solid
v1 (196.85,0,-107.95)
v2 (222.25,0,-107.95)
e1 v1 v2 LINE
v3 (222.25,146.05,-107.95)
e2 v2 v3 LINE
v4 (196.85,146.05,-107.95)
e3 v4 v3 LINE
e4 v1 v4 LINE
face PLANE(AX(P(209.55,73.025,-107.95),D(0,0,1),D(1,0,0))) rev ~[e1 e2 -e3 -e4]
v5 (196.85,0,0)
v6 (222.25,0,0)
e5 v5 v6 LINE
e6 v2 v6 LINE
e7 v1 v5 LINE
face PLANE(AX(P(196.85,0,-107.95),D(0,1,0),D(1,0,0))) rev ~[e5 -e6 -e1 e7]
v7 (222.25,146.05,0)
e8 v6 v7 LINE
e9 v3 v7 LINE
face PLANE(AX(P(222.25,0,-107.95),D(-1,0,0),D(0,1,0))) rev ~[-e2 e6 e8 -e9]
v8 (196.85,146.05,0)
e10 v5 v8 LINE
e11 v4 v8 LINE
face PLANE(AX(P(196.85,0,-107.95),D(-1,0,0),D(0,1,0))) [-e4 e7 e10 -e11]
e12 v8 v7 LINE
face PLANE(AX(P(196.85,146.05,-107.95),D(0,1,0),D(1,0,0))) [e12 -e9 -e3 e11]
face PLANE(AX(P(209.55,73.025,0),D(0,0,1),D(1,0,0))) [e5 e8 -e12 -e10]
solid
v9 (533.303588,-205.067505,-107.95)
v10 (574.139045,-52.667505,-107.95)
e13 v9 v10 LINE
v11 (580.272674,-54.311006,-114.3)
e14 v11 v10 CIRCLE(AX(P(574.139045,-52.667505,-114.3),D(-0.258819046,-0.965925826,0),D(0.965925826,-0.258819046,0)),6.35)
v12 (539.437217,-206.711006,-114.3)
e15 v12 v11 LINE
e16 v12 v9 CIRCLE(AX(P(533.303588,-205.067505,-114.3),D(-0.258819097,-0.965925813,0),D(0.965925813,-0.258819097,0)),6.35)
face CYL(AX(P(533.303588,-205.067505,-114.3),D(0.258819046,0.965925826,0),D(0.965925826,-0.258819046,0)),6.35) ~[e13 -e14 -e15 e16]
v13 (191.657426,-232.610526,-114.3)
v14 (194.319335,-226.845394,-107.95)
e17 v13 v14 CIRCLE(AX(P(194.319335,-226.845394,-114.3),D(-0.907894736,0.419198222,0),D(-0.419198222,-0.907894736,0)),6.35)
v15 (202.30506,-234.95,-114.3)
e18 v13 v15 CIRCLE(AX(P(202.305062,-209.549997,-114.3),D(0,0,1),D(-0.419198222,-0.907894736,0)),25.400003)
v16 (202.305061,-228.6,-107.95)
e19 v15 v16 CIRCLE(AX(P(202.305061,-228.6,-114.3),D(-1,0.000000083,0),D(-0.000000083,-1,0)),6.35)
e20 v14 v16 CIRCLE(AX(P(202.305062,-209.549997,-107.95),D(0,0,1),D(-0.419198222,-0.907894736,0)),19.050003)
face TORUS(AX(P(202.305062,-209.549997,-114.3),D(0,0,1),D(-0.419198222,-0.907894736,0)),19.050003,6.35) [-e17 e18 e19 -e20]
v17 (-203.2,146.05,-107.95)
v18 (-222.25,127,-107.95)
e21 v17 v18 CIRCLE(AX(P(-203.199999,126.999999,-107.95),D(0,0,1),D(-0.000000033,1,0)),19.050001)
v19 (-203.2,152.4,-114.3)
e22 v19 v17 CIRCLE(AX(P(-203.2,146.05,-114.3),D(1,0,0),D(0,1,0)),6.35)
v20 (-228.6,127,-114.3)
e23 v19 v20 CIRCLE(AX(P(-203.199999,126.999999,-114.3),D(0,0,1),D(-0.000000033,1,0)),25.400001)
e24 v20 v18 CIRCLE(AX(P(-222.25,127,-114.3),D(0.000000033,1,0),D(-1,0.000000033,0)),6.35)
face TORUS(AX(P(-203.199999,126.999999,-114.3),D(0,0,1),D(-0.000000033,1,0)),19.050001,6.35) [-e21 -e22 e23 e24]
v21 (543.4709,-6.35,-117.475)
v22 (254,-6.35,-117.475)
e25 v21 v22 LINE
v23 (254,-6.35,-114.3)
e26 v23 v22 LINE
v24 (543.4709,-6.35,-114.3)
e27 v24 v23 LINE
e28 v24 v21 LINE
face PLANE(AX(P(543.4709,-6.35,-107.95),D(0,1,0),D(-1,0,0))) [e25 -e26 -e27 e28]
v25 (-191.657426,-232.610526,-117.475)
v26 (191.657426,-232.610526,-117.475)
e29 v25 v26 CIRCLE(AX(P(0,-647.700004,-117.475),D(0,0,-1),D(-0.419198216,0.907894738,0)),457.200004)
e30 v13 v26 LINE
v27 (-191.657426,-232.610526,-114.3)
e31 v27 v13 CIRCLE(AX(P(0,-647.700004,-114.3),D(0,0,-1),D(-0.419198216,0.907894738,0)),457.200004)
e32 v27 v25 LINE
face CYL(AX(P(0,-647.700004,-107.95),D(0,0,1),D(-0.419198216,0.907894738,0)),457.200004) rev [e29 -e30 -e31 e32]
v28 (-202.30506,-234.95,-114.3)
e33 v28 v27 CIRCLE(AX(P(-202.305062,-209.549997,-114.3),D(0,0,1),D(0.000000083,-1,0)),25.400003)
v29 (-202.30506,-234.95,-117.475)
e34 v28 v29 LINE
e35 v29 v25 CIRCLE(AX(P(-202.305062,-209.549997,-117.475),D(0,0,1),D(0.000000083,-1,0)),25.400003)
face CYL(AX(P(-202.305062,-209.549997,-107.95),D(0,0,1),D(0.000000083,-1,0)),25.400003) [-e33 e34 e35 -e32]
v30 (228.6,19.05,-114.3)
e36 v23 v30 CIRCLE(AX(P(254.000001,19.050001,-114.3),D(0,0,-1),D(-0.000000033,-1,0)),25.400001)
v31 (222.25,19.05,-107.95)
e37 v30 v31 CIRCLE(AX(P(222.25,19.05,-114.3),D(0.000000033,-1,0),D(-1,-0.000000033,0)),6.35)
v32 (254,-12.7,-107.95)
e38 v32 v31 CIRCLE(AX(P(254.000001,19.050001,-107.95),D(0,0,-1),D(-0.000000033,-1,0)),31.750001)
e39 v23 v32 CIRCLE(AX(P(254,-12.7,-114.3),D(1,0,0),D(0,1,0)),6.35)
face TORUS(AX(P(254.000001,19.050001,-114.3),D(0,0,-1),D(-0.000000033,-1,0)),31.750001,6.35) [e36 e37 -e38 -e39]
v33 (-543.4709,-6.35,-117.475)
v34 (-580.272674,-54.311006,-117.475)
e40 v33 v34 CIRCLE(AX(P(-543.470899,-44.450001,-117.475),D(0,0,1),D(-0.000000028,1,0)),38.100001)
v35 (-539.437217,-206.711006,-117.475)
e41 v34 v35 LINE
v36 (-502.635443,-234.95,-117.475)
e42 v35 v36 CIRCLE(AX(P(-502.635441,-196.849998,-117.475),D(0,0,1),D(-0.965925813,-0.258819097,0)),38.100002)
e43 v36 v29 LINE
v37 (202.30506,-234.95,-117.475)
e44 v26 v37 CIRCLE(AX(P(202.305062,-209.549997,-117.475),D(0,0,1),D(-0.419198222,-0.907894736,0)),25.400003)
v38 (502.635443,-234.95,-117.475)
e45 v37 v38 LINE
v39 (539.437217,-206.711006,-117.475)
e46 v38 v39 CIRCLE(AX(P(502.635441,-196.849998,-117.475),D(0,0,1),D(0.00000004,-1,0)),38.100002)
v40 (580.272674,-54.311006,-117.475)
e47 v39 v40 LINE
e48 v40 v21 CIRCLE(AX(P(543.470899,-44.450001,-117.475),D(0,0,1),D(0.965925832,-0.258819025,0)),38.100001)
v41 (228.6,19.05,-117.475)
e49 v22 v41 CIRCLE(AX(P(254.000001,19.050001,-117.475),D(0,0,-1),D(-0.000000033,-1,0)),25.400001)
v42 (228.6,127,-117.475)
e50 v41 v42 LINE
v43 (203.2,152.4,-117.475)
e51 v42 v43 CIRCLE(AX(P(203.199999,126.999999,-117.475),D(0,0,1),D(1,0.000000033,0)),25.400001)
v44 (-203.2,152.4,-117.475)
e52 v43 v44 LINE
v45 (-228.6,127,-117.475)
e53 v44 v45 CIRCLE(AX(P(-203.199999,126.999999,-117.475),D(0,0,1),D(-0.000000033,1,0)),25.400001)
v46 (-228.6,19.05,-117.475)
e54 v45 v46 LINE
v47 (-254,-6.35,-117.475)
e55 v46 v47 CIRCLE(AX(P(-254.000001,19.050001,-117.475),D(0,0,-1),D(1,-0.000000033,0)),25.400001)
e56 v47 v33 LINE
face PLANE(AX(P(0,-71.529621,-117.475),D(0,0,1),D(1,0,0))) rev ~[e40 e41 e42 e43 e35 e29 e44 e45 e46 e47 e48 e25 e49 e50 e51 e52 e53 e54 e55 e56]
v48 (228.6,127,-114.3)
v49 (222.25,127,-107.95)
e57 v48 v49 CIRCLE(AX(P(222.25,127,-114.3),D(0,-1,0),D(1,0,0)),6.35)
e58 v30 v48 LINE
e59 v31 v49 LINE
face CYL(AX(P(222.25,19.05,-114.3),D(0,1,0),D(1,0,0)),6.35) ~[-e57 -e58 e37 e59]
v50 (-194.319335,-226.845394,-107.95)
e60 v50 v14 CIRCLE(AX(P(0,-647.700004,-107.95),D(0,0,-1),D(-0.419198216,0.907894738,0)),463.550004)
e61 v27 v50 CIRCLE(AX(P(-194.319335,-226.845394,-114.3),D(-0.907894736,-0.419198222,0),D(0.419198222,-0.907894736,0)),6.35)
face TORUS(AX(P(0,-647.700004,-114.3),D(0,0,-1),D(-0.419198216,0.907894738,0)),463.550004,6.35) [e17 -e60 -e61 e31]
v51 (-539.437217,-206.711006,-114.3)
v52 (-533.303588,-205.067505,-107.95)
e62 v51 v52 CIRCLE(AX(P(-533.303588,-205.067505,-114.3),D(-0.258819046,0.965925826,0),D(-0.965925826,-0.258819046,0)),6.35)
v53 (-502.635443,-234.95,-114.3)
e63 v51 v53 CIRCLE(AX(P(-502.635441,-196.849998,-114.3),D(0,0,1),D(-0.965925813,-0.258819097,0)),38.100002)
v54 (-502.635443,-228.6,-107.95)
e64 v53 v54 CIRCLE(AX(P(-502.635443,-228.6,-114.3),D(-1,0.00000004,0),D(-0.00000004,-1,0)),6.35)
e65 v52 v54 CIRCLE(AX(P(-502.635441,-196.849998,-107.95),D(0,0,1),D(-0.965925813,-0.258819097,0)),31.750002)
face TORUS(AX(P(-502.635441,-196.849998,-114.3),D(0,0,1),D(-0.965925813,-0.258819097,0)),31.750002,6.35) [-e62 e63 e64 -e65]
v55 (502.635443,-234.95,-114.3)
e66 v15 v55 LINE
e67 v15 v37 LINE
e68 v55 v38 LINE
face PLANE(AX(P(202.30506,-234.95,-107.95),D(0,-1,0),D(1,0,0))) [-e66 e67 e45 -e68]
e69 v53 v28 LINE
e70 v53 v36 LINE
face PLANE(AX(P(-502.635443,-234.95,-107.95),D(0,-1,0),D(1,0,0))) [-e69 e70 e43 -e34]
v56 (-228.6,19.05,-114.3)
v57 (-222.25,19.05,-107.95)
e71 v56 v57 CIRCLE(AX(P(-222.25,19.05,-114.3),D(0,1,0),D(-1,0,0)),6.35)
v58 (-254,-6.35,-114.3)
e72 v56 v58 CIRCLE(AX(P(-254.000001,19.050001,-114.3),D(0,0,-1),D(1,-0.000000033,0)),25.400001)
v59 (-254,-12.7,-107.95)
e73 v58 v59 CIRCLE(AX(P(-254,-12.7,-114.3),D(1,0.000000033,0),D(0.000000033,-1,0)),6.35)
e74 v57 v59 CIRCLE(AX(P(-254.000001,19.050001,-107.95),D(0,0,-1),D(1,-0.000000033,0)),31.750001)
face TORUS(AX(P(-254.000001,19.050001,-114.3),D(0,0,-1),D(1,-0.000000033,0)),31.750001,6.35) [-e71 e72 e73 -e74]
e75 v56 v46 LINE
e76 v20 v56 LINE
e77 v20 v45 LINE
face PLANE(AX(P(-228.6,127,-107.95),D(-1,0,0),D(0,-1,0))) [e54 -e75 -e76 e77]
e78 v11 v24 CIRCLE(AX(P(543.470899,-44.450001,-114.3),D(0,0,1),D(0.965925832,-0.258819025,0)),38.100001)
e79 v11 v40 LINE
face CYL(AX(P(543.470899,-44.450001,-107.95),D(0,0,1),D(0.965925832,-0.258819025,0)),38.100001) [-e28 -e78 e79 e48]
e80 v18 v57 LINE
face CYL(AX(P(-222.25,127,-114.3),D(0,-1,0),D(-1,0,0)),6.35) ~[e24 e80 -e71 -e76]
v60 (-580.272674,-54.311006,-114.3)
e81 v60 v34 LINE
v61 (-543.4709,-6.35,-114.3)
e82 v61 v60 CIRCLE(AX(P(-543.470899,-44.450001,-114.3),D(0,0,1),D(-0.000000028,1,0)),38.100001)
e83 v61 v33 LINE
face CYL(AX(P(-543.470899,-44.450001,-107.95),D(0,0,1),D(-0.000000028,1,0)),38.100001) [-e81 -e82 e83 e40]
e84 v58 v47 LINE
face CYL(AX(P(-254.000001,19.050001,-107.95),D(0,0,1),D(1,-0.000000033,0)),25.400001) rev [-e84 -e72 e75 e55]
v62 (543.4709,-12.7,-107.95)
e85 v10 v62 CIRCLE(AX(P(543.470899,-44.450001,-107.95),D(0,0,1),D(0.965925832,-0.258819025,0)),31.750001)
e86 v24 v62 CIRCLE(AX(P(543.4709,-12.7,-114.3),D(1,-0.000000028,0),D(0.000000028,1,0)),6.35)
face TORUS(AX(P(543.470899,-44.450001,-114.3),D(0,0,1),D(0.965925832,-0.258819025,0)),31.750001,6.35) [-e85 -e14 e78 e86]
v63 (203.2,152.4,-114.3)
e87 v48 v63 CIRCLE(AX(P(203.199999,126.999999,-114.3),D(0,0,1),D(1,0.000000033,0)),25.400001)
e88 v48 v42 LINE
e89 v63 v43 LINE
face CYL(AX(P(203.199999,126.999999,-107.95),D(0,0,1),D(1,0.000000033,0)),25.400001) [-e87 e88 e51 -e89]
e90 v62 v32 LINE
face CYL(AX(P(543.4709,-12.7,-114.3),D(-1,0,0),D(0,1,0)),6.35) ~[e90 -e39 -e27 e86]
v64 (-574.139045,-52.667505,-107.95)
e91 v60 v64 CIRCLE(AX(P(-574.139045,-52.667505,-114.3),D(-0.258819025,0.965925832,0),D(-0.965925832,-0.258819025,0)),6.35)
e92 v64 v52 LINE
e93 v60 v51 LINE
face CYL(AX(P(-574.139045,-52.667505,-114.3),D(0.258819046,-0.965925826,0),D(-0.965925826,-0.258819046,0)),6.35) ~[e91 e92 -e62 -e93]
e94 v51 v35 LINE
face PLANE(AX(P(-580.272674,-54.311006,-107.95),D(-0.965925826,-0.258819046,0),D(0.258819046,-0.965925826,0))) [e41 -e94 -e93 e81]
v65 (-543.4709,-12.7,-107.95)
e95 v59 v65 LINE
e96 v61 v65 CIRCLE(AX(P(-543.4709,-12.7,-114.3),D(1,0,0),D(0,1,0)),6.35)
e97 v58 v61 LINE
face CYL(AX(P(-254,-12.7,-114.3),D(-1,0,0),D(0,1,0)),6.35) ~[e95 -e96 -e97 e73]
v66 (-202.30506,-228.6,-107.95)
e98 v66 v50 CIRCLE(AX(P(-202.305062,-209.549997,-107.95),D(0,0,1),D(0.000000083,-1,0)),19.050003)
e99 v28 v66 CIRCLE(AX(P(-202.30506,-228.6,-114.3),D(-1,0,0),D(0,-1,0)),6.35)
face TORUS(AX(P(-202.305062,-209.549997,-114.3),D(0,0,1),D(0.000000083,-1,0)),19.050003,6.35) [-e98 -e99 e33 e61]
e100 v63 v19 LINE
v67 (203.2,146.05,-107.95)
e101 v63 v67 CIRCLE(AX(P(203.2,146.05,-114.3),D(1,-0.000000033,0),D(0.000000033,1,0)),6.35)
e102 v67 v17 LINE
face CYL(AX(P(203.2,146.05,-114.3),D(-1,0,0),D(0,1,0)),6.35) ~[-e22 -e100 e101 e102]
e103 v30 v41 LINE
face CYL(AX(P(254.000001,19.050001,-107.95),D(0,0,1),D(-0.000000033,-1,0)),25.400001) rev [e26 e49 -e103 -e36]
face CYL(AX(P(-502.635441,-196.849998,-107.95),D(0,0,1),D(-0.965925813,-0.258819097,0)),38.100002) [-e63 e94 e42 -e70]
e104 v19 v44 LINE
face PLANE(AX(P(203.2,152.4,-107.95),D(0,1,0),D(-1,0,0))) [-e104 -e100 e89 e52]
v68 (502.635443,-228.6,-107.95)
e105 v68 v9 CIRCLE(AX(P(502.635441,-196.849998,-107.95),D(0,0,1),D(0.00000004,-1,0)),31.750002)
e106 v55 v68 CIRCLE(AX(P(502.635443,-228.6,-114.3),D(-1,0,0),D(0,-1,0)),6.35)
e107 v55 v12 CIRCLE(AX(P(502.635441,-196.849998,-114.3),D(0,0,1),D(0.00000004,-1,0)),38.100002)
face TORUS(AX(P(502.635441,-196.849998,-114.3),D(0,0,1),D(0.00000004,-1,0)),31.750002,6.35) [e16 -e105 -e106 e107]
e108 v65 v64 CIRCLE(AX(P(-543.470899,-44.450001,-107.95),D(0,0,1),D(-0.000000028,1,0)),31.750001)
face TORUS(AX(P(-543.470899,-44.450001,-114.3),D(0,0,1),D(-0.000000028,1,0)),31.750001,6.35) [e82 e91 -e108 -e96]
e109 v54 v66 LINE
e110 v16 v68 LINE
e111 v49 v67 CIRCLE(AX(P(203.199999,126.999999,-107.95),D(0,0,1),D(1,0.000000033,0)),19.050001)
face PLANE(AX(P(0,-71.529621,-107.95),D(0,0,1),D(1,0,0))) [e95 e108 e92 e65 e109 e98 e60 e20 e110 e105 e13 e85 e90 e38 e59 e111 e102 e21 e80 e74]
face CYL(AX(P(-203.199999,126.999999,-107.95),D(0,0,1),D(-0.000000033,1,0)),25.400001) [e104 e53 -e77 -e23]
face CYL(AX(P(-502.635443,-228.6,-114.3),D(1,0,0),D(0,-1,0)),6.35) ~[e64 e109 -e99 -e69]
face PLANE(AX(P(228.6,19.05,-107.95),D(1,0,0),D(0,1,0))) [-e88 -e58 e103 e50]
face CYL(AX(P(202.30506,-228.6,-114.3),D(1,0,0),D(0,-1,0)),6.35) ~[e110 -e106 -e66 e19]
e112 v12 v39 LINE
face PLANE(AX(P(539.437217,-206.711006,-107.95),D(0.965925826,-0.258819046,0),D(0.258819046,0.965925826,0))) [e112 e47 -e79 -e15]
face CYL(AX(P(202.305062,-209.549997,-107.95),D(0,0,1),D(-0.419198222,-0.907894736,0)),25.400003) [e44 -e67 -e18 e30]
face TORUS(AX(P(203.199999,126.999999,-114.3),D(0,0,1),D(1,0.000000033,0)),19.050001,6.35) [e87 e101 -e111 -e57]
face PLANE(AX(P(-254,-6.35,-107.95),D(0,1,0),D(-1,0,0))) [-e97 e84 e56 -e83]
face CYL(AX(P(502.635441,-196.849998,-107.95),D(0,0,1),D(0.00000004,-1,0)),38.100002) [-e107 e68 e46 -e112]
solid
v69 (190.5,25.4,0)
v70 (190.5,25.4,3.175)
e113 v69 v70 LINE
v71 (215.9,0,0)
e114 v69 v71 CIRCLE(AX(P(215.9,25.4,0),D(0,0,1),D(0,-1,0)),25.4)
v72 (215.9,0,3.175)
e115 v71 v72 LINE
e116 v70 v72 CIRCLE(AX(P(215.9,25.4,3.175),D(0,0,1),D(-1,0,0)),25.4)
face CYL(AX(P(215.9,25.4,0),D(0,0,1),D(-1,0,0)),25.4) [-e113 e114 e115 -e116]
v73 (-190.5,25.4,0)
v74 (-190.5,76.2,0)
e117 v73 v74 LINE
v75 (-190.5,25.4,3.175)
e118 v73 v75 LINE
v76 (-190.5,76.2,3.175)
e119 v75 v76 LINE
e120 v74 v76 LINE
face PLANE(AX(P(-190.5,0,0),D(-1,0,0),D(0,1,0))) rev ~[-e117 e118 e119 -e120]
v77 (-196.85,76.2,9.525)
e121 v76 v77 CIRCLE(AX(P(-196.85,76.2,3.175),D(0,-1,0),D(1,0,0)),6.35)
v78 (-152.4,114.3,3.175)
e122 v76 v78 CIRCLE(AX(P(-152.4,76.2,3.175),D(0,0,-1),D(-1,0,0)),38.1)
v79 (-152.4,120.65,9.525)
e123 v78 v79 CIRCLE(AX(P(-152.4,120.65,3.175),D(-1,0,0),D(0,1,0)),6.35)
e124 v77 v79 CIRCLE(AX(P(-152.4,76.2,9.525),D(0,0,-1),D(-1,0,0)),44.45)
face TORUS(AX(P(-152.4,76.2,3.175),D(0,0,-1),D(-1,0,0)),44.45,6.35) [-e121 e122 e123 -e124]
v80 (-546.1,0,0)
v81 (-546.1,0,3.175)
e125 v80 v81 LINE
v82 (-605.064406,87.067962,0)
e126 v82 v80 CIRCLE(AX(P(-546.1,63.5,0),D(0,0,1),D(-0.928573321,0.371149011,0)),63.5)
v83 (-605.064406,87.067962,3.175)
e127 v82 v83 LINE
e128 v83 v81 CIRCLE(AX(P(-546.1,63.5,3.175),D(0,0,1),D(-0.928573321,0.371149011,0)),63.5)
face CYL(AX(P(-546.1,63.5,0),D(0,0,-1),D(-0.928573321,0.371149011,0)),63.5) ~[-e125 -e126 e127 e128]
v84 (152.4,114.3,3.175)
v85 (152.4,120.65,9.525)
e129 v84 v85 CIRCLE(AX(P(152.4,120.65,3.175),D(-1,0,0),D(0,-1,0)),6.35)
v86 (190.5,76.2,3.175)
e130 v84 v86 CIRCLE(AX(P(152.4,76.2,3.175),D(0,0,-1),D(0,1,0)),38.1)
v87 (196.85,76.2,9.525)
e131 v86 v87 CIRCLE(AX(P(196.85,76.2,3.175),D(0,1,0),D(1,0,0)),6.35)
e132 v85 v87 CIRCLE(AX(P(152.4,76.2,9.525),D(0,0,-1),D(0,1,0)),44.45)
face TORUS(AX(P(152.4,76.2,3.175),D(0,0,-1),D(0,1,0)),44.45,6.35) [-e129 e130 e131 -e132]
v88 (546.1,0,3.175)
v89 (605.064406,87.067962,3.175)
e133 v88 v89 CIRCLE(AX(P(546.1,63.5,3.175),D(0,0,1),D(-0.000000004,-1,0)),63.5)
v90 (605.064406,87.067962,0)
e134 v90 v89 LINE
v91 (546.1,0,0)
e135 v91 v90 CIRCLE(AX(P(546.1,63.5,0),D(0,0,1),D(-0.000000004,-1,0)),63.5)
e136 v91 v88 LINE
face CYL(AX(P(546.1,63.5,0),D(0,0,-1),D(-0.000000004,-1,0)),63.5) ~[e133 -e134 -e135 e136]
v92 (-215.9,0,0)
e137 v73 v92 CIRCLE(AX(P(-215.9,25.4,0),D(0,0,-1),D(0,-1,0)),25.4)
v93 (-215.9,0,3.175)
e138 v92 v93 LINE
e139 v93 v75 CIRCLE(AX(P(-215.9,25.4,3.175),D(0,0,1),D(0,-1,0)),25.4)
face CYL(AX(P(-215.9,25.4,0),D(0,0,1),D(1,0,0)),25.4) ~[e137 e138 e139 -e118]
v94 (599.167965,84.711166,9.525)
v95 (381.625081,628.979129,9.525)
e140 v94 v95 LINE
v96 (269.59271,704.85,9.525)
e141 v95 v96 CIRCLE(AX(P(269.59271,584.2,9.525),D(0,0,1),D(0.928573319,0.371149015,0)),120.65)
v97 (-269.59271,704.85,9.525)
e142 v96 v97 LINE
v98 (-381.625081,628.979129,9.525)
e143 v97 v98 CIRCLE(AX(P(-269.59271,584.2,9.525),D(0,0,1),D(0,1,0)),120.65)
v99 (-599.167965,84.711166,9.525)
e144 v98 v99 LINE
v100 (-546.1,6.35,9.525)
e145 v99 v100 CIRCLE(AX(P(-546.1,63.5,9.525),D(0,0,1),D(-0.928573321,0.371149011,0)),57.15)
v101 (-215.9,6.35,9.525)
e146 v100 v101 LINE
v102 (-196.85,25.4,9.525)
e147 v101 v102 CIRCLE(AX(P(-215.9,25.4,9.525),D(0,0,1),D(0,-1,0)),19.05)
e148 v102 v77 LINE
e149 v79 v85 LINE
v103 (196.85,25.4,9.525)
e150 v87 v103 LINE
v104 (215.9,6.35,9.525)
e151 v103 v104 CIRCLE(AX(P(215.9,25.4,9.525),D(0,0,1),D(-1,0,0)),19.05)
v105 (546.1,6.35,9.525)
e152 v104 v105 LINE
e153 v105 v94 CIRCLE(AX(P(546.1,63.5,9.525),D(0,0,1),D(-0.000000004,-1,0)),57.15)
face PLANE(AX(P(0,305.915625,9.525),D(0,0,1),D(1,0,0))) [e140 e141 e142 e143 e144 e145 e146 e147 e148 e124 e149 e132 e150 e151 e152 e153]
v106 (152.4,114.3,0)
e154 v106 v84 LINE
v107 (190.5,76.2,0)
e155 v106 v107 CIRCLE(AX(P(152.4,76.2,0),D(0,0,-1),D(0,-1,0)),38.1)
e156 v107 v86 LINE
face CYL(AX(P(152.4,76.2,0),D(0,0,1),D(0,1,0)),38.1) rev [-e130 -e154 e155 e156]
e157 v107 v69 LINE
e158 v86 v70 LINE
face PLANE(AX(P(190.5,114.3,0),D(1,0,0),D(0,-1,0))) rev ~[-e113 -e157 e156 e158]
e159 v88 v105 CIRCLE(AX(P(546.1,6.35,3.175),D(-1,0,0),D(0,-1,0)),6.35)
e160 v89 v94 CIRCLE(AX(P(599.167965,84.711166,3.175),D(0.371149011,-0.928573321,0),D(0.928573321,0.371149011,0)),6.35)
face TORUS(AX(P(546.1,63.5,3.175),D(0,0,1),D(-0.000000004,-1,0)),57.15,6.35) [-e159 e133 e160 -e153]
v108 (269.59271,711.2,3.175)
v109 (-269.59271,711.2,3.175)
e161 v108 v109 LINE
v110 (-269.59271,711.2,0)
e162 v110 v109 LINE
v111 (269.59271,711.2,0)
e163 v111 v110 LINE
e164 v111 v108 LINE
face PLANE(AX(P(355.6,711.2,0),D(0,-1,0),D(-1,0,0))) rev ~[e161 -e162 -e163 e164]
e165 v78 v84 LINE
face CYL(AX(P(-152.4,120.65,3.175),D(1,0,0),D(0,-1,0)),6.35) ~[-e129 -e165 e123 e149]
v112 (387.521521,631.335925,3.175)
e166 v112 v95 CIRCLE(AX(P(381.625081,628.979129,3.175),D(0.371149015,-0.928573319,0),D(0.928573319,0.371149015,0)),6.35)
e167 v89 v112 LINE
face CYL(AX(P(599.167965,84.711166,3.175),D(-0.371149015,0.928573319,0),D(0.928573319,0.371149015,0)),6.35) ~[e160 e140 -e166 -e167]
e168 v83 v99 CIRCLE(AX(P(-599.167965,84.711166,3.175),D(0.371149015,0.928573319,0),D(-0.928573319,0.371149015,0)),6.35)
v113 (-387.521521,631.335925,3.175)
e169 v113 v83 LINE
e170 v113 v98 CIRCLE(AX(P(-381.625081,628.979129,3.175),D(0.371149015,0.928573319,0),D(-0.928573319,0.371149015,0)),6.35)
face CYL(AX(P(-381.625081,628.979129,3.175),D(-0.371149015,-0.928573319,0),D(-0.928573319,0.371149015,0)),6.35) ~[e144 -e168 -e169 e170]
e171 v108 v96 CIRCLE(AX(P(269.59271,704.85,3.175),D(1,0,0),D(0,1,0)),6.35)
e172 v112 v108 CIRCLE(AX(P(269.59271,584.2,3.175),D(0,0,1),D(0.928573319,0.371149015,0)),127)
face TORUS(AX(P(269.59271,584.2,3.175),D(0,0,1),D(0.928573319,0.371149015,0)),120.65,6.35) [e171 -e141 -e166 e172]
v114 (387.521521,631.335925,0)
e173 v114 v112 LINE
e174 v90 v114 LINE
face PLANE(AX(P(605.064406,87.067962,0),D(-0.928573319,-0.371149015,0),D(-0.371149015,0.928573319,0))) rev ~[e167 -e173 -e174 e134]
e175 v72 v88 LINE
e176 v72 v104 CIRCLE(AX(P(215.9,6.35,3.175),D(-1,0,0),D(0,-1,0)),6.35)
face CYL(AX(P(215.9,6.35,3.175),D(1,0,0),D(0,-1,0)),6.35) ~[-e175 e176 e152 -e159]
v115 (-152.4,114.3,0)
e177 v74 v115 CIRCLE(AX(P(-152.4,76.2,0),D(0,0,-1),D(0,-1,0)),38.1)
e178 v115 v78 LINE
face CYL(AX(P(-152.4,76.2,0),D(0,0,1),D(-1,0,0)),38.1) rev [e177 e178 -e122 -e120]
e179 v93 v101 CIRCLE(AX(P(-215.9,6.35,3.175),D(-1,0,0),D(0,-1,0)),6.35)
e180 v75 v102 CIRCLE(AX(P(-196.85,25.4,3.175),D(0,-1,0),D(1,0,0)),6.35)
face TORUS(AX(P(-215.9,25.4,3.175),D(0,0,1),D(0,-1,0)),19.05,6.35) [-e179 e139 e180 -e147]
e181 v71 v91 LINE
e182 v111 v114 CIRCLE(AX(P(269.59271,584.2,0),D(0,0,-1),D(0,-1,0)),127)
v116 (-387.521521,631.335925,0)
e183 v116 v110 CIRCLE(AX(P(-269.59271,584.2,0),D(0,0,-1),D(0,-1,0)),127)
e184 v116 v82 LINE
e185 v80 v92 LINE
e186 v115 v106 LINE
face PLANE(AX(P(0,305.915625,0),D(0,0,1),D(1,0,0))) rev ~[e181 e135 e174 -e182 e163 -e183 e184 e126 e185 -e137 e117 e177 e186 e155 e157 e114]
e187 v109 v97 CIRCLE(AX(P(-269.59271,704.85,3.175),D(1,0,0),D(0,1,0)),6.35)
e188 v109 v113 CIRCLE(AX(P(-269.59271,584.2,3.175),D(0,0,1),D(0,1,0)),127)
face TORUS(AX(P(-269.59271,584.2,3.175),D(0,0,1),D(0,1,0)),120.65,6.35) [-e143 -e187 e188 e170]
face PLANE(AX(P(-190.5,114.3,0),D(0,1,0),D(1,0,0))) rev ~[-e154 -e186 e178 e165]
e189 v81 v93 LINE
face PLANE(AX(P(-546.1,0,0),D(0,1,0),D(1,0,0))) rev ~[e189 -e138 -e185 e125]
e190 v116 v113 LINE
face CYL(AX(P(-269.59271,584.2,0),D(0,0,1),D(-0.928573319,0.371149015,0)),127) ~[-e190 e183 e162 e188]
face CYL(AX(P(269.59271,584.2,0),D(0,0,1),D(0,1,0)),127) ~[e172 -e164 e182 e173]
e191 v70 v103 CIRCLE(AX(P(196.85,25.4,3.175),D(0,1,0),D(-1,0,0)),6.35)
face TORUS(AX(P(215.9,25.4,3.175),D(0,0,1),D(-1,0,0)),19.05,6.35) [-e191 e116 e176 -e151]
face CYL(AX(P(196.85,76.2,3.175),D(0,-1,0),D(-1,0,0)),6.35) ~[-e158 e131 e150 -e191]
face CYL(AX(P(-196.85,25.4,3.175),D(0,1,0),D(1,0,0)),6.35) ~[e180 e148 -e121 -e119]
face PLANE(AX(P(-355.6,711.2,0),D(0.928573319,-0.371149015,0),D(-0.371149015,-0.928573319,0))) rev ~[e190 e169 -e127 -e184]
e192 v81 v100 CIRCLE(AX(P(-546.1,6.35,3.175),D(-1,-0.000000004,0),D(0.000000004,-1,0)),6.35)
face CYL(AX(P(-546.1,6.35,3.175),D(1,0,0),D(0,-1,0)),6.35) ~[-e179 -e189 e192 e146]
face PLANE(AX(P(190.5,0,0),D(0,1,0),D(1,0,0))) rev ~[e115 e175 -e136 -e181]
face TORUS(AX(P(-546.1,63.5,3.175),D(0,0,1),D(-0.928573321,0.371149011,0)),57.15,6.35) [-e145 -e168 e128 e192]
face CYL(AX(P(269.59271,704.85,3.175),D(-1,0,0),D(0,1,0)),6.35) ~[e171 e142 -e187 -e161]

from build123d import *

# Parameters (mm, degrees)
F3_DEPTH  = 9.525
F4_R      = 38.1
F5_R      = 25.4
F6_R      = 127
F7_R      = 6.35
F8_DEPTH  = 9.525
F9_R      = 6.35
F10_W     = 25.4
F10_H     = 146.05
F11_DEPTH = 107.95


with BuildPart() as f3:
    # F0 (on Top) → F3 (new body)
    with BuildSketch(Plane.XY):
        with BuildLine():
            Line((-190.5, 0), (-190.5, 114.3))
            Line((-190.5, 114.3), (190.5, 114.3))
            Line((190.5, 114.3), (190.5, 0))
            Line((190.5, 0), (546.1, 0))
            ThreePointArc((546.1, 0), (598.677636, 27.893228), (605.064406, 87.067962))
            Line((605.064406, 87.067962), (355.6, 711.2))
            Line((355.6, 711.2), (-355.6, 711.2))
            Line((-355.6, 711.2), (-605.064406, 87.067962))
            ThreePointArc((-605.064406, 87.067962), (-598.677636, 27.893228), (-546.1, 0))
            Line((-546.1, 0), (-190.5, 0))
        make_face()
    extrude(amount=F3_DEPTH)

    # F4
    f4_edges = [f3.edges().sort_by_distance(p)[0] for p in [
        (-190.5, 114.3, 4.7625),
        (190.5, 114.3, 4.7625),
    ]]
    fillet(f4_edges, radius=F4_R)

    # F5
    f5_edges = [f3.edges().sort_by_distance(p)[0] for p in [
        (-190.5, 0, 4.7625),
        (190.5, 0, 4.7625),
    ]]
    fillet(f5_edges, radius=F5_R)

    # F6
    f6_edges = [f3.edges().sort_by_distance(p)[0] for p in [
        (355.6, 711.2, 4.7625),
        (-355.6, 711.2, 4.7625),
    ]]
    fillet(f6_edges, radius=F6_R)

    # F7
    f7_edges = [f3.edges().sort_by_distance(p)[0] for p in [
        (-496.292963, 359.201944, 9.525),
        (-340.806253, 689.355272, 9.525),
        (-598.677636, 27.893228, 9.525),
        (0, 711.2, 9.525),
        (-381, 0, 9.525),
        (340.806253, 689.355272, 9.525),
        (-197.939488, 7.439488, 9.525),
        (496.292963, 359.201944, 9.525),
        (-190.5, 50.8, 9.525),
        (598.677636, 27.893228, 9.525),
        (-179.340768, 103.140768, 9.525),
        (381, 0, 9.525),
        (0, 114.3, 9.525),
        (197.939488, 7.439488, 9.525),
        (179.340768, 103.140768, 9.525),
        (190.5, 50.8, 9.525),
    ]]
    fillet(f7_edges, radius=F7_R)


with BuildPart() as f8:
    # F2 (on offset) → F8 (new body)
    with BuildSketch(Plane.XY.offset(-107.95)):
        with BuildLine():
            Line((-254, -6.35), (-543.4709, -6.35))
            ThreePointArc((-543.4709, -6.35), (-573.697662, -21.25619), (-580.272674, -54.311006))
            Line((-580.272674, -54.311006), (-539.437217, -206.711006))
            ThreePointArc((-539.437217, -206.711006), (-525.829253, -227.076762), (-502.635443, -234.95))
            Line((-502.635443, -234.95), (-202.30506, -234.95))
            ThreePointArc((-202.30506, -234.95), (-196.854252, -234.358238), (-191.657426, -232.610526))
            ThreePointArc((-191.657426, -232.610526), (0, -190.5), (191.657426, -232.610526))
            ThreePointArc((191.657426, -232.610526), (196.854252, -234.358238), (202.30506, -234.95))
            Line((202.30506, -234.95), (502.635443, -234.95))
            ThreePointArc((502.635443, -234.95), (525.829253, -227.076762), (539.437217, -206.711006))
            Line((539.437217, -206.711006), (580.272674, -54.311006))
            ThreePointArc((580.272674, -54.311006), (573.697662, -21.25619), (543.4709, -6.35))
            Line((543.4709, -6.35), (254, -6.35))
            ThreePointArc((254, -6.35), (236.039488, 1.089488), (228.6, 19.05))
            Line((228.6, 19.05), (228.6, 127))
            ThreePointArc((228.6, 127), (221.160512, 144.960512), (203.2, 152.4))
            Line((203.2, 152.4), (-203.2, 152.4))
            ThreePointArc((-203.2, 152.4), (-221.160512, 144.960512), (-228.6, 127))
            Line((-228.6, 127), (-228.6, 19.05))
            ThreePointArc((-228.6, 19.05), (-236.039488, 1.089488), (-254, -6.35))
        make_face()
    extrude(amount=-F8_DEPTH)

    # F9
    f9_edges = [f8.edges().sort_by_distance(p)[0] for p in [
        (196.854252, -234.358238, -107.95),
        (352.470252, -234.95, -107.95),
        (525.829253, -227.076762, -107.95),
        (559.854945, -130.511006, -107.95),
        (573.697662, -21.25619, -107.95),
        (398.73545, -6.35, -107.95),
        (236.039488, 1.089488, -107.95),
        (228.6, 73.025, -107.95),
        (221.160512, 144.960512, -107.95),
        (0, 152.4, -107.95),
        (-221.160512, 144.960512, -107.95),
        (-228.6, 73.025, -107.95),
        (-236.039488, 1.089488, -107.95),
        (-398.73545, -6.35, -107.95),
        (-573.697662, -21.25619, -107.95),
        (-559.854945, -130.511006, -107.95),
        (-525.829253, -227.076762, -107.95),
        (-352.470252, -234.95, -107.95),
        (-196.854252, -234.358238, -107.95),
        (0, -190.5, -107.95),
    ]]
    fillet(f9_edges, radius=F9_R)


with BuildPart() as f11:
    # F10 (on face) → F11 (new body, through all)
    with BuildSketch(Plane.XY.offset(-107.95)):
        with Locations((209.55, 73.025)):
            Rectangle(F10_W, F10_H)
    extrude(amount=F11_DEPTH)


solid = Compound([f3.part, f8.part, f11.part])
